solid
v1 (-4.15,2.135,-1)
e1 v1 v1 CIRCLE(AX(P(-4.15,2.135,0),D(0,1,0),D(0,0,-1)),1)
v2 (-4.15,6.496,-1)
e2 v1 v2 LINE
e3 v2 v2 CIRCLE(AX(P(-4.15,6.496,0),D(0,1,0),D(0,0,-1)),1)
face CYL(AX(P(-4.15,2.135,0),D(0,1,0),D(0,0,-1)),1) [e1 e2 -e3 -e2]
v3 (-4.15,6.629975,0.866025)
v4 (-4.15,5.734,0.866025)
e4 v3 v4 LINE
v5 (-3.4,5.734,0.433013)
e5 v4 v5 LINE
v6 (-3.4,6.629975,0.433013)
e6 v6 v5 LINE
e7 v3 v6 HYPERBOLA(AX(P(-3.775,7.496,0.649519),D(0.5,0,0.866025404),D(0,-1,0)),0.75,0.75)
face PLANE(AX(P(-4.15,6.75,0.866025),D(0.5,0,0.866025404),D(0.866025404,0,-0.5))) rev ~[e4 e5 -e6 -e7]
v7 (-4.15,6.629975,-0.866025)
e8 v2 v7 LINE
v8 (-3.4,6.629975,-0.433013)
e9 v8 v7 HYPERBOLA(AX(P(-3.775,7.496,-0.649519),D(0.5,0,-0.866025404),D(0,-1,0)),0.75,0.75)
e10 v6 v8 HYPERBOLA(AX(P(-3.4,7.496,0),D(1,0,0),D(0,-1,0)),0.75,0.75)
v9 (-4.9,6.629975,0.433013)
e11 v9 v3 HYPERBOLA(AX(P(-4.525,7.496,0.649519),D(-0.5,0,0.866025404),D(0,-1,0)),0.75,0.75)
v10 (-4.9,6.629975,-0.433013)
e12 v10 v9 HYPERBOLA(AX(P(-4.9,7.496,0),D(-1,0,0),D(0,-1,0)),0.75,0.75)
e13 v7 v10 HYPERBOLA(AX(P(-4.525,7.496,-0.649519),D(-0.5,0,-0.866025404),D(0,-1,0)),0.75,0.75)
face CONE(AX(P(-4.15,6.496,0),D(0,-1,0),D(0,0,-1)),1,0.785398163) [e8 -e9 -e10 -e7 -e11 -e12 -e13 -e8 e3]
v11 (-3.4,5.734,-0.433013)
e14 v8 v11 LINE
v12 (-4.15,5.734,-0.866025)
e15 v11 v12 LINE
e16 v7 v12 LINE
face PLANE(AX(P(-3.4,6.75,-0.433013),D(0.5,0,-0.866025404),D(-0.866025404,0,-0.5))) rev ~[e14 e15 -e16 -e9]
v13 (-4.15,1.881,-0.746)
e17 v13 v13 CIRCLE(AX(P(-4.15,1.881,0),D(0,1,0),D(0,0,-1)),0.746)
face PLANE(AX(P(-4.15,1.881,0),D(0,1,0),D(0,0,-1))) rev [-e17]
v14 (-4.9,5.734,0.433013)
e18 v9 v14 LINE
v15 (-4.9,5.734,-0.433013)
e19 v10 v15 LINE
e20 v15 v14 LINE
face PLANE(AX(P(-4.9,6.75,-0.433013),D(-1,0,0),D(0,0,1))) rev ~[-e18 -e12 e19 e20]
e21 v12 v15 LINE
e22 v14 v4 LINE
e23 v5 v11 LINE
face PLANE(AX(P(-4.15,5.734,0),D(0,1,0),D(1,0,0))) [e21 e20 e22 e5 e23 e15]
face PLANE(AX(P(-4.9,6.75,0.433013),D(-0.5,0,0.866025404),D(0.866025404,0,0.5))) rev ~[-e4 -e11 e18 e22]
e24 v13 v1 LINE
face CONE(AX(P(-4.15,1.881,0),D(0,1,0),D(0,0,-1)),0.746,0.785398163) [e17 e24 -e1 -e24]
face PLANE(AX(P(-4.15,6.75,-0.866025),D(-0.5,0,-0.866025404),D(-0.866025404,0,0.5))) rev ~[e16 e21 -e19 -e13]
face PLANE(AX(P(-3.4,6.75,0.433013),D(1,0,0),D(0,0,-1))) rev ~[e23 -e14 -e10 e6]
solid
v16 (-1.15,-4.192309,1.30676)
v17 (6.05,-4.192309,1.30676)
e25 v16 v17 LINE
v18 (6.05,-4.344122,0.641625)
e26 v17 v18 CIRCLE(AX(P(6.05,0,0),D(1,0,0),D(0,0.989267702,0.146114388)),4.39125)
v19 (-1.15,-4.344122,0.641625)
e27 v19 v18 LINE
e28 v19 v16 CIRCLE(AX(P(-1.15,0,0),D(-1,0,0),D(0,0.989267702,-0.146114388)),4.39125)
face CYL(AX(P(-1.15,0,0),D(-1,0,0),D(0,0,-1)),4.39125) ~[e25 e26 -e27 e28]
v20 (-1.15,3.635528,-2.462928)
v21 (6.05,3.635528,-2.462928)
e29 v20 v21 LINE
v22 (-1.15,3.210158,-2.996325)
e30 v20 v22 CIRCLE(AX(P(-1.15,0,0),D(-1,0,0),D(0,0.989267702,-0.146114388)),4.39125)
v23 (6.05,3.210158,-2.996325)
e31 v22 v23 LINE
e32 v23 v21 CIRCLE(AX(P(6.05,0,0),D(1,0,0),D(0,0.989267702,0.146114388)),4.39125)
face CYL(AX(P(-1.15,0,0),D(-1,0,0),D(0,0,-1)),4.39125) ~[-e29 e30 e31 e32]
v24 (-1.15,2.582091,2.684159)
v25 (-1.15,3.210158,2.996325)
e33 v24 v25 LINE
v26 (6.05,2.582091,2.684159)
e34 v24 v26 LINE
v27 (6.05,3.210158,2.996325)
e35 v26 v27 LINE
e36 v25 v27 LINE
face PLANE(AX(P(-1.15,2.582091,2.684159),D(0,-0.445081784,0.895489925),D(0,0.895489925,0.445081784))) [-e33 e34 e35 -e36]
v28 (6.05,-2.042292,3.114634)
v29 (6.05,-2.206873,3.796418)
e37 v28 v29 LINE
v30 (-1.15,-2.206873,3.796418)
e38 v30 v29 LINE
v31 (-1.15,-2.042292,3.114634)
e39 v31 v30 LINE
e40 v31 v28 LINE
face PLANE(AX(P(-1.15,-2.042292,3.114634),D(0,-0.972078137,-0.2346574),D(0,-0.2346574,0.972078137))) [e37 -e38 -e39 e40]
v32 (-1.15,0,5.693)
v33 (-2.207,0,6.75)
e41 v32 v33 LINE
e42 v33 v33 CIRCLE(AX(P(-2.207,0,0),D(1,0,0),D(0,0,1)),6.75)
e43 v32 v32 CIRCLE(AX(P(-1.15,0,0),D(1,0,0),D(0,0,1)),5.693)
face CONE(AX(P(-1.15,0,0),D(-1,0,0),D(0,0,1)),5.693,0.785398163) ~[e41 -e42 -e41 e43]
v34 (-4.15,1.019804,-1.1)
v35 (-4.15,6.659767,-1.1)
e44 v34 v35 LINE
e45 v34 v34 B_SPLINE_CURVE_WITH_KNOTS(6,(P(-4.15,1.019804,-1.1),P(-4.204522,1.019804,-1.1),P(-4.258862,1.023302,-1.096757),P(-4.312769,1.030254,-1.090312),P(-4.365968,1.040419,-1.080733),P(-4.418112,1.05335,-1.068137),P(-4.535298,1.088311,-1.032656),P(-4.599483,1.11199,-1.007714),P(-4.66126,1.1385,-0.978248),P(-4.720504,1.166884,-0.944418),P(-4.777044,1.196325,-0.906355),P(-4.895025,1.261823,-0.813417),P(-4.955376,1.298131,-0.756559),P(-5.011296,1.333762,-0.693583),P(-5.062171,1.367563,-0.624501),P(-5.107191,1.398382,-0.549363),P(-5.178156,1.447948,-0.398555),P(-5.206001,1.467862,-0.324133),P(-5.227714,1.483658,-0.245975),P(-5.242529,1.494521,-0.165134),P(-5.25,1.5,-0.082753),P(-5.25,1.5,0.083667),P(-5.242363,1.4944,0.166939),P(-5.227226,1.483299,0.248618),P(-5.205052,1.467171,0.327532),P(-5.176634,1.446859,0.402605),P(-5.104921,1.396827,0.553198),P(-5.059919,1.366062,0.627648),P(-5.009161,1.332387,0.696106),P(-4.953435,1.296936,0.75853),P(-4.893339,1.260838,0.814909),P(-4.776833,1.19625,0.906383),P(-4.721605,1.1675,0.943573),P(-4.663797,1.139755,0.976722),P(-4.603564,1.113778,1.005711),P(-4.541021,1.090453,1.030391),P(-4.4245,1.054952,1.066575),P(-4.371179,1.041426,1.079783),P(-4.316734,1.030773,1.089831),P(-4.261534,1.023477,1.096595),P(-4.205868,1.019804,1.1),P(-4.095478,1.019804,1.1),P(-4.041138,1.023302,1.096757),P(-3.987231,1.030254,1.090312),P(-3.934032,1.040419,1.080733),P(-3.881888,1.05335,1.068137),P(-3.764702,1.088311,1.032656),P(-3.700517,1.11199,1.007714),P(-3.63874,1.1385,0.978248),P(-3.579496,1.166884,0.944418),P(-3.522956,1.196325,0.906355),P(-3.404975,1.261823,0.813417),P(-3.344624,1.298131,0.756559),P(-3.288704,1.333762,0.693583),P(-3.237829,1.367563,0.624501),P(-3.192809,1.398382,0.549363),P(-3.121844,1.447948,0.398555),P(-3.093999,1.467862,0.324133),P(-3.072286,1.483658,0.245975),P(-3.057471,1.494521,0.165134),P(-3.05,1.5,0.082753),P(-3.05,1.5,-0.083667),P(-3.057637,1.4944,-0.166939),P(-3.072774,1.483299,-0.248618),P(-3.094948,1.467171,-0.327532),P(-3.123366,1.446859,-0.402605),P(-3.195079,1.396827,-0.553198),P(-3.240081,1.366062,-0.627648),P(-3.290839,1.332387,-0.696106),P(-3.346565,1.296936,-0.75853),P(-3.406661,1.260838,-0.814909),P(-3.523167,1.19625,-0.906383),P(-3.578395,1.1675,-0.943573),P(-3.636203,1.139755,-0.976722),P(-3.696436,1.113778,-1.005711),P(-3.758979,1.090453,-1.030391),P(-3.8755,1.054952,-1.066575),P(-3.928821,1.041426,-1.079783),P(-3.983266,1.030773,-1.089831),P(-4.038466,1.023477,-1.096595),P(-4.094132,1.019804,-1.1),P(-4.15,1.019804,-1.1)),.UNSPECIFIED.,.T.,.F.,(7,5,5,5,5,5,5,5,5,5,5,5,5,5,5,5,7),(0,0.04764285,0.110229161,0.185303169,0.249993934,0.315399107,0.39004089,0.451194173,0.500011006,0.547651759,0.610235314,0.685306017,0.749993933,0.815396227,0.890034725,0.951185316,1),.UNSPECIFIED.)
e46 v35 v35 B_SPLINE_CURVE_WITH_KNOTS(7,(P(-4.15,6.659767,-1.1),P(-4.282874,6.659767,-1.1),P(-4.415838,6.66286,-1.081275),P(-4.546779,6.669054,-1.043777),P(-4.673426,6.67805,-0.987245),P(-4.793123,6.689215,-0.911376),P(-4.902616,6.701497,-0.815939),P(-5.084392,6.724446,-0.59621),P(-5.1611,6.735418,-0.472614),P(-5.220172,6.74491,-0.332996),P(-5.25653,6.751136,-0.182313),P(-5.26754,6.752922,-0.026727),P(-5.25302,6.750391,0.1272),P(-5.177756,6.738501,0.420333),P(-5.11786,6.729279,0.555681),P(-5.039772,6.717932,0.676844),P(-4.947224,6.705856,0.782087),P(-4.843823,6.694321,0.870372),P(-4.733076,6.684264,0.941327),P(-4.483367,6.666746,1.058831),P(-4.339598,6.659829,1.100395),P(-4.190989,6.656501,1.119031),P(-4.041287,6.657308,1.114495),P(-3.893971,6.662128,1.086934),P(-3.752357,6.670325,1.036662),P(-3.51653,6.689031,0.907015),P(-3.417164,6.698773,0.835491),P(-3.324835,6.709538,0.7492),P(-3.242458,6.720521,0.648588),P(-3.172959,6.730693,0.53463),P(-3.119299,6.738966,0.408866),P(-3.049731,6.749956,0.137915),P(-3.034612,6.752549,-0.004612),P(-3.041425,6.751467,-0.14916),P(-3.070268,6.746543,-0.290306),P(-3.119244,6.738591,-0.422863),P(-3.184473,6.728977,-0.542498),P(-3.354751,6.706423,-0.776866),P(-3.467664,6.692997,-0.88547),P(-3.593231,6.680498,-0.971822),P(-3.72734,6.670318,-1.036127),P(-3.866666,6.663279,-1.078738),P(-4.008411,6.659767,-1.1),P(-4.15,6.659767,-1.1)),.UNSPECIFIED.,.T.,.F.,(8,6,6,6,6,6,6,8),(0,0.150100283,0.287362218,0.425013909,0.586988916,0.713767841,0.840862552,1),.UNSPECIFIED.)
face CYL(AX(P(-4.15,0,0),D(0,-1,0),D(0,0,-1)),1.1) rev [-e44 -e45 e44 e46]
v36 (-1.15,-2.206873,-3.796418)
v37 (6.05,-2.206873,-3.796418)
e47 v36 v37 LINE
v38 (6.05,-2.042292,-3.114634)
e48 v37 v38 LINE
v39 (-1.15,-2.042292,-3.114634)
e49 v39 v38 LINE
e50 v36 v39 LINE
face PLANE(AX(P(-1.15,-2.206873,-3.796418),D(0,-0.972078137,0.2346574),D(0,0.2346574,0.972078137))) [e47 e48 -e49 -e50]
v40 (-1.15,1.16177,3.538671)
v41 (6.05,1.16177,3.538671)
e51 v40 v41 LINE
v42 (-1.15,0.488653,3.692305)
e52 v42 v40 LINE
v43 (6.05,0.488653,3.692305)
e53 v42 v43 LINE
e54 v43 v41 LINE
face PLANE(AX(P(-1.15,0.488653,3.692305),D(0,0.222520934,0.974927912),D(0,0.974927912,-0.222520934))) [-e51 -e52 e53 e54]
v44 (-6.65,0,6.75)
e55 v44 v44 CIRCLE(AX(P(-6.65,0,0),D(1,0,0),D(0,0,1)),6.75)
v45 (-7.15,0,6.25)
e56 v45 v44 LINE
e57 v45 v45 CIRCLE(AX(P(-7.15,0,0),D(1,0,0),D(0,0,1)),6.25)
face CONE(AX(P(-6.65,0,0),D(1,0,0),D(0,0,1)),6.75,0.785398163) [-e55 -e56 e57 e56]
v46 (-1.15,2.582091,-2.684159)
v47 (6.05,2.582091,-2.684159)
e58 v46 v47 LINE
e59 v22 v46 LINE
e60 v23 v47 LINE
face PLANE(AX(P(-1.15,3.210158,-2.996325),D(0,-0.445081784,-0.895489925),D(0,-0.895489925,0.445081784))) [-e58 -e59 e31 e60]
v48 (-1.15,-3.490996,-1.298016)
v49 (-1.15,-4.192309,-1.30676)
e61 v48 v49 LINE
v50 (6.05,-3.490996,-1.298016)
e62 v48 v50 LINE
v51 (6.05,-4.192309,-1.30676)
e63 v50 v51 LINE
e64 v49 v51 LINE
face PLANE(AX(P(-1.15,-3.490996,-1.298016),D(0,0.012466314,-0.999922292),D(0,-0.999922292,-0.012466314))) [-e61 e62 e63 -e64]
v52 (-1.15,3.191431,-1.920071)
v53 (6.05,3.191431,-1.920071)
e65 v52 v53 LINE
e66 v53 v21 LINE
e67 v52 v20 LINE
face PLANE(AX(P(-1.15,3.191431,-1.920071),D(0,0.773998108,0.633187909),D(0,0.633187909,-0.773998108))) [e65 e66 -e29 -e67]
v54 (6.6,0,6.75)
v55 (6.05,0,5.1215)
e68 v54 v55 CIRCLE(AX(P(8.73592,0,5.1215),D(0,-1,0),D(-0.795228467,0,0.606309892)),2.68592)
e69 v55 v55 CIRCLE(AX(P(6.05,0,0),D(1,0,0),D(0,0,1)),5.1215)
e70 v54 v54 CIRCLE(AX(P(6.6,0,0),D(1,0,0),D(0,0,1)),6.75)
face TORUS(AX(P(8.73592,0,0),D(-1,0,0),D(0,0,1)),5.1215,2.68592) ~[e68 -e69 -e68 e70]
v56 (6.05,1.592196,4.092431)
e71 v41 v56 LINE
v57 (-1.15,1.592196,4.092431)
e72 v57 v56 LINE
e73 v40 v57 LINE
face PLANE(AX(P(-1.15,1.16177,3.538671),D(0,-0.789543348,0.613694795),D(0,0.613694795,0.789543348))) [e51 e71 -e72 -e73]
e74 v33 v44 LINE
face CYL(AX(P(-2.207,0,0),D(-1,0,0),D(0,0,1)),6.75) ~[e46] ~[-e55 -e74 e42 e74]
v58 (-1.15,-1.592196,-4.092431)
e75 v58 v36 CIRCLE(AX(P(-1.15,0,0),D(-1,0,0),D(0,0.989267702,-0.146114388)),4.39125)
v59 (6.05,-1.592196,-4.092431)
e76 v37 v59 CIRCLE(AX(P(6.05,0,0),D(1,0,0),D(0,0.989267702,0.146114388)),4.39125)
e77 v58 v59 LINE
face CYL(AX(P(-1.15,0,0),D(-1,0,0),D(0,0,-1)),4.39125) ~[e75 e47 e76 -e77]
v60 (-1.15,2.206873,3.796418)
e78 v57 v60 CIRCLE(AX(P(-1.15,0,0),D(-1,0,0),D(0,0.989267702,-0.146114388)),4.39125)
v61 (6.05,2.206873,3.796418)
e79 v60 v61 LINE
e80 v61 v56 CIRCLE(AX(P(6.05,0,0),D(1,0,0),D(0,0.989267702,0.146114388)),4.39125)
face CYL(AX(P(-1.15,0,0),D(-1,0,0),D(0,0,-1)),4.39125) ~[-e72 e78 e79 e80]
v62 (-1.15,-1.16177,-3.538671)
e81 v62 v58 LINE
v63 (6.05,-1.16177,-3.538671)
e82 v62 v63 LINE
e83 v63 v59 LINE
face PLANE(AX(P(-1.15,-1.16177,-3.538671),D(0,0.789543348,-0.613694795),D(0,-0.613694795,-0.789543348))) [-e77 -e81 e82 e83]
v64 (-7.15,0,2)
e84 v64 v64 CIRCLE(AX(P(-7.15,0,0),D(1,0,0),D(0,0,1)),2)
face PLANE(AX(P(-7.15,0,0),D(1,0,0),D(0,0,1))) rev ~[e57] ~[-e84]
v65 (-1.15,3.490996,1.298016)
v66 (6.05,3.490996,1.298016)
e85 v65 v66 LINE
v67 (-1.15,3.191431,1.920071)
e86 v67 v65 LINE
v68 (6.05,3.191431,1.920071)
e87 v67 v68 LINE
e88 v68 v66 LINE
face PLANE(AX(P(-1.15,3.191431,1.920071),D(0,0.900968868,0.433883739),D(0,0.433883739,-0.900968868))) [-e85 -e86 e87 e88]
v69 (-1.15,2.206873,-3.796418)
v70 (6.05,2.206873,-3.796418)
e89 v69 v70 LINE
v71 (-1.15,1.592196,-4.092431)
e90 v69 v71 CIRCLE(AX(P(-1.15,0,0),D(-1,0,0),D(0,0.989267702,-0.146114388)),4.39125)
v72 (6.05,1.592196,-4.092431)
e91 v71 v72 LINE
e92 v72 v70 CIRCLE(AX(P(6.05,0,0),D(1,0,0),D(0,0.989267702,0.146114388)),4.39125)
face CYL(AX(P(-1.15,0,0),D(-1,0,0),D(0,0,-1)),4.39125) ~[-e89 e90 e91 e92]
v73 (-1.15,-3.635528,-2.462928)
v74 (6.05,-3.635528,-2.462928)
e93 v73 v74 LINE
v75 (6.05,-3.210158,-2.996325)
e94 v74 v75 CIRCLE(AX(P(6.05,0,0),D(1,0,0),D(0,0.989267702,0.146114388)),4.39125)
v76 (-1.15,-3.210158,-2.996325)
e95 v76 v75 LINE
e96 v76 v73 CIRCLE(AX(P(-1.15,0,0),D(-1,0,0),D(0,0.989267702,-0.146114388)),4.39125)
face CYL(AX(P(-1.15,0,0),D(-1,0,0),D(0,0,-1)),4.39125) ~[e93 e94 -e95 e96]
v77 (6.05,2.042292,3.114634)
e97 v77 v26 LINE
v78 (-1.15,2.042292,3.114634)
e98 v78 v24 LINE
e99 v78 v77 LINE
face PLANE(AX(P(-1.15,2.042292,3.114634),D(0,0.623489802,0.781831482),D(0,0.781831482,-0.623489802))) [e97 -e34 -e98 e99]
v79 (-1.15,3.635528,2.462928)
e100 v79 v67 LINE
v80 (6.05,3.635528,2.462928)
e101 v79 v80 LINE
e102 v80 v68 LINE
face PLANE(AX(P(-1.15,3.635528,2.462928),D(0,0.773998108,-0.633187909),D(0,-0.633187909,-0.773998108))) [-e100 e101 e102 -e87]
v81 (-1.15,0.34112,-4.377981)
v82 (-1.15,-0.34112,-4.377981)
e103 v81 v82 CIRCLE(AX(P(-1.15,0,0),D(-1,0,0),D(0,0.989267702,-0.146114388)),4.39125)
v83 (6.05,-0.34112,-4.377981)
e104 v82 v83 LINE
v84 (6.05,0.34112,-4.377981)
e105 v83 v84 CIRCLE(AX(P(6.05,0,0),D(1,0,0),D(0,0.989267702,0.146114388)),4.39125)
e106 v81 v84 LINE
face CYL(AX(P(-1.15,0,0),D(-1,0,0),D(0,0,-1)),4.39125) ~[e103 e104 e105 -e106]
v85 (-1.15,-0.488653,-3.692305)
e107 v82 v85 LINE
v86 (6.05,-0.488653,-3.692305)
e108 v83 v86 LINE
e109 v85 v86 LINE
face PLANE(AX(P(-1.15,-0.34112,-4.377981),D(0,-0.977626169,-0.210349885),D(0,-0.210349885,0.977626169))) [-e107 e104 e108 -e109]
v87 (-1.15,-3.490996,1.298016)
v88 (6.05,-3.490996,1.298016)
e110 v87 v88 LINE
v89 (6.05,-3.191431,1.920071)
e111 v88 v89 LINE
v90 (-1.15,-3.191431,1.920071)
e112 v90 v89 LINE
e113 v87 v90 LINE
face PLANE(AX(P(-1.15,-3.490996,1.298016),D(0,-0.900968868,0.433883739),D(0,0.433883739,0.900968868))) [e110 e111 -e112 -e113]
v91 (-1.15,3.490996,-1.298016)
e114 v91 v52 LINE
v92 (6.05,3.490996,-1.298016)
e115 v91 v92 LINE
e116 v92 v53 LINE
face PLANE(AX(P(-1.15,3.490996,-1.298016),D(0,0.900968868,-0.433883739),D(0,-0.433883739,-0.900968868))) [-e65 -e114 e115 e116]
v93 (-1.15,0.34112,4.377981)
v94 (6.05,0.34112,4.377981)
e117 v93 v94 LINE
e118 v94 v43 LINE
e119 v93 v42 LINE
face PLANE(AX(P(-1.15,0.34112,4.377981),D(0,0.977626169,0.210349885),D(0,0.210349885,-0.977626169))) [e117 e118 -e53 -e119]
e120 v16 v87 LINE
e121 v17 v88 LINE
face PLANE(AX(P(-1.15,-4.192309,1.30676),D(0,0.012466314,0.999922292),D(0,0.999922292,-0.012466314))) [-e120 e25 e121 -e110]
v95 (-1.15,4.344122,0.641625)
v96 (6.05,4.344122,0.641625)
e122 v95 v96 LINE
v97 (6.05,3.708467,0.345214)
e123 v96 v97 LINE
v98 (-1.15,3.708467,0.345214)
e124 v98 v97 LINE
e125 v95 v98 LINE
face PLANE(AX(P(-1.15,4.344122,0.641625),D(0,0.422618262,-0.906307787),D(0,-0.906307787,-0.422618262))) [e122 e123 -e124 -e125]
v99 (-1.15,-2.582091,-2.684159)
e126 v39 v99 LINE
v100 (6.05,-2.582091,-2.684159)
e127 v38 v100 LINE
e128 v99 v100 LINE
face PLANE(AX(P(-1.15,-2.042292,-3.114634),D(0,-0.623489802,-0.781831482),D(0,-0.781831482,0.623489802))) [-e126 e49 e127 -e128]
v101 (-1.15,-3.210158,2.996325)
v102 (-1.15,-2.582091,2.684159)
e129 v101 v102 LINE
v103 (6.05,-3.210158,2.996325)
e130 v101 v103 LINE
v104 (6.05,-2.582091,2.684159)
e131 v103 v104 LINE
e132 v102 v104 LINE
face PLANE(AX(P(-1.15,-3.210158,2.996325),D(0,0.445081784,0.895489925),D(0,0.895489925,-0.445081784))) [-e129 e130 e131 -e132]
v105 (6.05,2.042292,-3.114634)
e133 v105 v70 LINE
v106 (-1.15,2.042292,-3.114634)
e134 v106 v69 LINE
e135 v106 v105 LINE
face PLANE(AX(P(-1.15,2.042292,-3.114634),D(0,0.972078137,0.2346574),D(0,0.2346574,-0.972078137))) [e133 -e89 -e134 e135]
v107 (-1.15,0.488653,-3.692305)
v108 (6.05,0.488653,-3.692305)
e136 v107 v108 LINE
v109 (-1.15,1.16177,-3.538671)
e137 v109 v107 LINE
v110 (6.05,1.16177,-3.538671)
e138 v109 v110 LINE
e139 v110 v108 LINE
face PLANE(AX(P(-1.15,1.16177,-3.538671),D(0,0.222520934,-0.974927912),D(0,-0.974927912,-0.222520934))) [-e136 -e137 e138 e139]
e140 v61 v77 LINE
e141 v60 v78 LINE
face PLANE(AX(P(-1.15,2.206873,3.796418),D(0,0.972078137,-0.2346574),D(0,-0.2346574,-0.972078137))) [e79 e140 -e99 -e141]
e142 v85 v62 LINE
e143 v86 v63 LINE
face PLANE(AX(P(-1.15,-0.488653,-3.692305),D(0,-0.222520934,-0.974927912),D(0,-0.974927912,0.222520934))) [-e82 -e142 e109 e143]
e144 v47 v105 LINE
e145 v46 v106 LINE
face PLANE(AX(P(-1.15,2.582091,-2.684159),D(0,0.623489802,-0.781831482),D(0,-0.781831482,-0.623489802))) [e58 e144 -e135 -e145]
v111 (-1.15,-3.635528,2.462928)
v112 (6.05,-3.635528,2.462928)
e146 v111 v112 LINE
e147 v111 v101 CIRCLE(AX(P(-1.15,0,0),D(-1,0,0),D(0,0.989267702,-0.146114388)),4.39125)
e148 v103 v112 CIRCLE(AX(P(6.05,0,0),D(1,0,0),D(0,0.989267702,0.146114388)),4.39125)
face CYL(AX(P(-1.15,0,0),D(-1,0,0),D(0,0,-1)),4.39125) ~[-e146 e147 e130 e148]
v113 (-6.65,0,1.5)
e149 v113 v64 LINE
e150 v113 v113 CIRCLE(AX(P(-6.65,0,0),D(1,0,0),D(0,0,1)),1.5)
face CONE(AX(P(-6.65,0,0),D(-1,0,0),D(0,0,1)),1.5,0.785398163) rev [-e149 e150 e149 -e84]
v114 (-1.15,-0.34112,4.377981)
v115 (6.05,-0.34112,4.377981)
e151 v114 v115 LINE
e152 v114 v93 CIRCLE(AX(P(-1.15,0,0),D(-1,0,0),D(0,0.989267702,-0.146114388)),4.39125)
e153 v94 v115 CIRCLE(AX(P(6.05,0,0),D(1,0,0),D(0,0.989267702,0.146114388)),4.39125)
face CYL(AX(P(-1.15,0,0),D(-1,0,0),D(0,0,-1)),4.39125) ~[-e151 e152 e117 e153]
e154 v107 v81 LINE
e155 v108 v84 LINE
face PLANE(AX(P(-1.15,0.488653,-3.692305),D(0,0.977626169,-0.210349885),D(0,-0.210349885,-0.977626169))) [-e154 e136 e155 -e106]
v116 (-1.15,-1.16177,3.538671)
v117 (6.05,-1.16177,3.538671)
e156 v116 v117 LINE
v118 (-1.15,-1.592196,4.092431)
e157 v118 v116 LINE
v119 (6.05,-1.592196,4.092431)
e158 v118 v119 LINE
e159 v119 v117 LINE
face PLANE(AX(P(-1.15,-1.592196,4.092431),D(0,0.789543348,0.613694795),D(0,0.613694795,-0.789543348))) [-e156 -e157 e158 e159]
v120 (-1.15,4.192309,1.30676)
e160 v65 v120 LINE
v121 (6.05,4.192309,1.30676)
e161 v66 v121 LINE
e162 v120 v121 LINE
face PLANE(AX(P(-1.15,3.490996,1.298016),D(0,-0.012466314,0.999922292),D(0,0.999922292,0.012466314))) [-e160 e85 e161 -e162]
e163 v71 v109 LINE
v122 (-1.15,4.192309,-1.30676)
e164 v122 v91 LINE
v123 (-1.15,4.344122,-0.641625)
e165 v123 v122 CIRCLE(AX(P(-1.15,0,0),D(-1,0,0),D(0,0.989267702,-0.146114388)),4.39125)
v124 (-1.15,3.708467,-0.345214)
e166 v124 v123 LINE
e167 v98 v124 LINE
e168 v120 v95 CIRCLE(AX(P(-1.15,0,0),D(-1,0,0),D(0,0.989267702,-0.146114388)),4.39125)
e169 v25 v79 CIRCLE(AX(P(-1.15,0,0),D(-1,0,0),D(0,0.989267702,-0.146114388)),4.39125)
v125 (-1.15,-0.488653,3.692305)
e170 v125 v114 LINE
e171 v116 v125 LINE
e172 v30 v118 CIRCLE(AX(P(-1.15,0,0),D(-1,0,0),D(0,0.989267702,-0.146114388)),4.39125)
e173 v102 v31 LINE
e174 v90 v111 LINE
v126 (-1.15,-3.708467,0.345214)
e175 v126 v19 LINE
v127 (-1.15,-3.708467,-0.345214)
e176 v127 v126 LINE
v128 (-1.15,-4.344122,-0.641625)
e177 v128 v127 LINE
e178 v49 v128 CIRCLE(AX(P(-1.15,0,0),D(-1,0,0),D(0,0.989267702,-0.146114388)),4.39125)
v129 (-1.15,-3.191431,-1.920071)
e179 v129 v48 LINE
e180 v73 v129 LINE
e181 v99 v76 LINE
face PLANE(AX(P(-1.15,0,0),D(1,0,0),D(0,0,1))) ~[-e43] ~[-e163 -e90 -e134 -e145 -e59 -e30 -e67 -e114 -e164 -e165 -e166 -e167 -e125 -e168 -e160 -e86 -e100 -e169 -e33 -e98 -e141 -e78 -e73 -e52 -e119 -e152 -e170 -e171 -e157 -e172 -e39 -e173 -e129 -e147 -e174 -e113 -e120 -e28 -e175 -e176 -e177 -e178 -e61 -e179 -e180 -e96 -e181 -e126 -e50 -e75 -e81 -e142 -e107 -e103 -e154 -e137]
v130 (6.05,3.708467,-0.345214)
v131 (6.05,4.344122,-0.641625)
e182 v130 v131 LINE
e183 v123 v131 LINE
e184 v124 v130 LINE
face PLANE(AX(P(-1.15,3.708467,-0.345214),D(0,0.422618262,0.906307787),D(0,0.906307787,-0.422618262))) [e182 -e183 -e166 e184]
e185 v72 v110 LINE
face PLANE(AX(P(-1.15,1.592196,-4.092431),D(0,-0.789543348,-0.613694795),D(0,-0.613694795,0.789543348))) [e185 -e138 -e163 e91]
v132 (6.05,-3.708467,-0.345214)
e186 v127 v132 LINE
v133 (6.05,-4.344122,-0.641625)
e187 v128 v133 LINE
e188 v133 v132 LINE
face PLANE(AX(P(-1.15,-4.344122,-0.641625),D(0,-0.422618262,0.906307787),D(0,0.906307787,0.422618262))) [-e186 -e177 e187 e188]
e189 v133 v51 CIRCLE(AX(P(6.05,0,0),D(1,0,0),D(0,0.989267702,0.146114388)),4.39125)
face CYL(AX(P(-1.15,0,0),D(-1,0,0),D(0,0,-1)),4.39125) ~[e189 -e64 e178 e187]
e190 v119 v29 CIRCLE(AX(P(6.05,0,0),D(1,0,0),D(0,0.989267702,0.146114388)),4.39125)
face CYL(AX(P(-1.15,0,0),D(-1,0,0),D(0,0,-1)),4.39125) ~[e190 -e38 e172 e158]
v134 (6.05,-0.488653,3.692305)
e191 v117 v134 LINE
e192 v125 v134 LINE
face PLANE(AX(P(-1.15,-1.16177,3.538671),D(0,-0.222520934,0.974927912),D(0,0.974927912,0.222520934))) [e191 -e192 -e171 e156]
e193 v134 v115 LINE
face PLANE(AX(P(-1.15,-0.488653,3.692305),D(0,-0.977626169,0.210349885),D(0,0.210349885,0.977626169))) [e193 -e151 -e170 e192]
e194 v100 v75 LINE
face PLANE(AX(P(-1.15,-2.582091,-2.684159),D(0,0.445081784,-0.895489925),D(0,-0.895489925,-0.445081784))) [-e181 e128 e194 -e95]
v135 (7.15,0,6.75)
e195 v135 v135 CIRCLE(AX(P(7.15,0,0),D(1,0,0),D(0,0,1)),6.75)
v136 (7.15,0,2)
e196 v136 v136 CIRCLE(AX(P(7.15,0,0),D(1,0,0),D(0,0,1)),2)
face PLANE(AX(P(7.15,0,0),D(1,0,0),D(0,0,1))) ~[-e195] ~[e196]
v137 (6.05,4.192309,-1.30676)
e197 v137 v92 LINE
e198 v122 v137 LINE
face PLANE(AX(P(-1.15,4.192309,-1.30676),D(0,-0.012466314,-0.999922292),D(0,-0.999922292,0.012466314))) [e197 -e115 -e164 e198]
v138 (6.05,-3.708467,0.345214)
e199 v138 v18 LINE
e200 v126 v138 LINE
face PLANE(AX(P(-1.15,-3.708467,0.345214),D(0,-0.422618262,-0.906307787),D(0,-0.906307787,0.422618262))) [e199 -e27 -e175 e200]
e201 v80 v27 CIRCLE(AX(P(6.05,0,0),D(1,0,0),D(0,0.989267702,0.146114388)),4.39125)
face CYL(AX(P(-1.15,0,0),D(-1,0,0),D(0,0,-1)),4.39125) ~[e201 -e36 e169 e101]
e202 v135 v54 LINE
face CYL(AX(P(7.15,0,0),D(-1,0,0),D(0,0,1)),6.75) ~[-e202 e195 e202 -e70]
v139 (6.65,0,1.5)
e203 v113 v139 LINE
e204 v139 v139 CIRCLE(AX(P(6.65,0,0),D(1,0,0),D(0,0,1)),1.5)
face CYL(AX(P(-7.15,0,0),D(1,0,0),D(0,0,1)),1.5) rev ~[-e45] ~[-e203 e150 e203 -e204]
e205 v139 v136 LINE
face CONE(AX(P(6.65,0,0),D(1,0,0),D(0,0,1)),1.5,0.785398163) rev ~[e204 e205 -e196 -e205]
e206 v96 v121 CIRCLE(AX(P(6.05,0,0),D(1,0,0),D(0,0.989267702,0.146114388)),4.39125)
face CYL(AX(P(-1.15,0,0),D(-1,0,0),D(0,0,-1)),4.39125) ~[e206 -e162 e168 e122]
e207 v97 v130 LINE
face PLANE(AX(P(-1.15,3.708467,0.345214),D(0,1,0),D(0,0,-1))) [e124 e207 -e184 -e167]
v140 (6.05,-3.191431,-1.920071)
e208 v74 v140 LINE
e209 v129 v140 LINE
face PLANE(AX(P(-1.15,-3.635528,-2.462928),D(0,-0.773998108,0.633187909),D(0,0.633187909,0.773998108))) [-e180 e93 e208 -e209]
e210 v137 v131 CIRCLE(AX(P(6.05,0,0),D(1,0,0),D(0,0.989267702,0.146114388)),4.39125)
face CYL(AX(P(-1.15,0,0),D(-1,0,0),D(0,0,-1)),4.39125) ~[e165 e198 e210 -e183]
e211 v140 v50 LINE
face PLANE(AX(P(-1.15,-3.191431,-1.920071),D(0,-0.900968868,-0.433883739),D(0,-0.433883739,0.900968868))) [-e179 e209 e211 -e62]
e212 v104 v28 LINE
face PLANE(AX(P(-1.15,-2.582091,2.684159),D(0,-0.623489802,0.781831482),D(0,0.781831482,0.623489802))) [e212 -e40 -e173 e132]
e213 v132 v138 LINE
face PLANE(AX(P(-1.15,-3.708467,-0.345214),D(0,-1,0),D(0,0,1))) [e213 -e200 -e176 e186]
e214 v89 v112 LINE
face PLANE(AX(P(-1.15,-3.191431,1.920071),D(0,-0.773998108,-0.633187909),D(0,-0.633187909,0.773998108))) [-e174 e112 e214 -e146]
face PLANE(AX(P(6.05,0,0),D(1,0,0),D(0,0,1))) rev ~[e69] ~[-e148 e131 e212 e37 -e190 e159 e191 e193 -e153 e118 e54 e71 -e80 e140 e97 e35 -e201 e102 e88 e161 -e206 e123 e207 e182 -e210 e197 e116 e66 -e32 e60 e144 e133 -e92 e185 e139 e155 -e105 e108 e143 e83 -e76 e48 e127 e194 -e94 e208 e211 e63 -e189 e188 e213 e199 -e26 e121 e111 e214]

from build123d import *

# Parameters (mm, degrees)
SKETCH4_R          = 4.55
SKETCH4_R_2        = 4.39125
CUT_EXTRUDE2_DEPTH = 7.2
CUT_EXTRUDE1_DEPTH = 7.2
CIRPATTERN1_COUNT  = 14
SKETCH6_R          = 1.1
CUT_EXTRUDE3_DEPTH = 12.926755636
CUT_EXTRUDE4_DEPTH = 1.016
CHAMFER1_SIZE      = 0.5


with BuildPart() as part:
    # Sketch1 → Revolve1 (revolve)
    with BuildSketch(Plane.XY, mode=Mode.PRIVATE) as revolve1_sk:
        with BuildLine():
            Line((-7.15, 1.5), (7.15, 1.5))
            Line((7.15, 1.5), (7.15, 6.75))
            Line((7.15, 6.75), (6.6, 6.75))
            ThreePointArc((6.6, 6.75), (6.191212109, 5.980934734), (6.05, 5.1215))
            Line((6.05, 5.1215), (6.05, 4.55))
            Line((6.05, 4.55), (-1.15, 4.55))
            Line((-1.15, 4.55), (-1.15, 5.693))
            Line((-1.15, 5.693), (-2.207, 6.75))
            Line((-2.207, 6.75), (-7.15, 6.75))
            Line((-7.15, 6.75), (-7.15, 1.5))
        make_face()
    revolve(revolve1_sk.sketch.rotate(Axis((-7.15, 0, 0), (1, 0, 0)), 90), axis=Axis((-7.15, 0, 0), (1, 0, 0)))

    # Sketch4 → Cut-Extrude2 (cut)
    with BuildSketch(Plane(origin=(-1.15, 0, 0), x_dir=(0, 0, -1), z_dir=(1, 0, 0))):
        Circle(SKETCH4_R)
        Circle(SKETCH4_R_2, mode=Mode.SUBTRACT)
    extrude(amount=CUT_EXTRUDE2_DEPTH, mode=Mode.SUBTRACT)

    # Sketch3 → Cut-Extrude1 (cut)
    with BuildSketch(Plane(origin=(-1.15, 0, 0), x_dir=(0, 0, -1), z_dir=(1, 0, 0))):
        with BuildLine():
            Line((-0.641624805, 4.344121795), (-0.345214105, 3.708466998))
            Line((-0.345214105, 3.708466998), (0.345214105, 3.708466998))
            Line((0.345214105, 3.708466998), (0.641624805, 4.344121795))
            ThreePointArc((0.641624805, 4.344121795), (0, 4.39125), (-0.641624805, 4.344121795))
        make_face()
    cut_extrude1 = extrude(amount=CUT_EXTRUDE1_DEPTH, mode=Mode.SUBTRACT)

    # CirPattern1: Cut-Extrude1 ×14 about axis
    cirpattern1_axis = Axis((0, 0, 0), (1, 0, 0))
    for i in range(1, CIRPATTERN1_COUNT):
        add(cut_extrude1.rotate(cirpattern1_axis, i * 360 / CIRPATTERN1_COUNT), mode=Mode.SUBTRACT)

    # Sketch6 → Cut-Extrude3 (cut, through all)
    with BuildSketch(Plane(origin=(0, 0, 0), x_dir=(1, 0, 0), z_dir=(0, 1, 0))):
        with Locations(Location((-4.15, 0, 0), (0, 0, 90))):
            Circle(SKETCH6_R)
    extrude(amount=CUT_EXTRUDE3_DEPTH, mode=Mode.SUBTRACT)

    # Chamfer1
    chamfer1_edges = [part.edges().sort_by_distance(p)[0] for p in [
        (-7.15, 0, -6.75),
        (-7.15, 0, -1.5),
        (7.15, 0, -1.5),
    ]]
    chamfer(chamfer1_edges, length=CHAMFER1_SIZE)


with BuildPart() as body_2:
    # Sketch7 → Revolve2 (revolve)
    with BuildSketch(Plane.XY, mode=Mode.PRIVATE) as revolve2_sk:
        Polygon((-4.896, 6.75), (-4.15, 6.75), (-4.15, 1.881), (-4.896, 1.881), (-5.15, 2.135), (-5.15, 6.496), align=None)
    revolve(revolve2_sk.sketch.rotate(Axis((-4.15, 1.881, 0), (0, 1, 0)), 270), axis=Axis((-4.15, 1.881, 0), (0, 1, 0)))

    # Sketch8 → Cut-Extrude4 (cut)
    with BuildSketch(Plane(origin=(0, 6.75, 0), x_dir=(1, 0, 0), z_dir=(0, 1, 0))):
        Polygon((-4.15, 0.866025404), (-4.9, 0.433012702), (-4.9, -0.433012702), (-4.15, -0.866025404), (-3.4, -0.433012702), (-3.4, 0.433012702), align=None)
    extrude(amount=-CUT_EXTRUDE4_DEPTH, mode=Mode.SUBTRACT)


solid = Compound([part.part, body_2.part])
